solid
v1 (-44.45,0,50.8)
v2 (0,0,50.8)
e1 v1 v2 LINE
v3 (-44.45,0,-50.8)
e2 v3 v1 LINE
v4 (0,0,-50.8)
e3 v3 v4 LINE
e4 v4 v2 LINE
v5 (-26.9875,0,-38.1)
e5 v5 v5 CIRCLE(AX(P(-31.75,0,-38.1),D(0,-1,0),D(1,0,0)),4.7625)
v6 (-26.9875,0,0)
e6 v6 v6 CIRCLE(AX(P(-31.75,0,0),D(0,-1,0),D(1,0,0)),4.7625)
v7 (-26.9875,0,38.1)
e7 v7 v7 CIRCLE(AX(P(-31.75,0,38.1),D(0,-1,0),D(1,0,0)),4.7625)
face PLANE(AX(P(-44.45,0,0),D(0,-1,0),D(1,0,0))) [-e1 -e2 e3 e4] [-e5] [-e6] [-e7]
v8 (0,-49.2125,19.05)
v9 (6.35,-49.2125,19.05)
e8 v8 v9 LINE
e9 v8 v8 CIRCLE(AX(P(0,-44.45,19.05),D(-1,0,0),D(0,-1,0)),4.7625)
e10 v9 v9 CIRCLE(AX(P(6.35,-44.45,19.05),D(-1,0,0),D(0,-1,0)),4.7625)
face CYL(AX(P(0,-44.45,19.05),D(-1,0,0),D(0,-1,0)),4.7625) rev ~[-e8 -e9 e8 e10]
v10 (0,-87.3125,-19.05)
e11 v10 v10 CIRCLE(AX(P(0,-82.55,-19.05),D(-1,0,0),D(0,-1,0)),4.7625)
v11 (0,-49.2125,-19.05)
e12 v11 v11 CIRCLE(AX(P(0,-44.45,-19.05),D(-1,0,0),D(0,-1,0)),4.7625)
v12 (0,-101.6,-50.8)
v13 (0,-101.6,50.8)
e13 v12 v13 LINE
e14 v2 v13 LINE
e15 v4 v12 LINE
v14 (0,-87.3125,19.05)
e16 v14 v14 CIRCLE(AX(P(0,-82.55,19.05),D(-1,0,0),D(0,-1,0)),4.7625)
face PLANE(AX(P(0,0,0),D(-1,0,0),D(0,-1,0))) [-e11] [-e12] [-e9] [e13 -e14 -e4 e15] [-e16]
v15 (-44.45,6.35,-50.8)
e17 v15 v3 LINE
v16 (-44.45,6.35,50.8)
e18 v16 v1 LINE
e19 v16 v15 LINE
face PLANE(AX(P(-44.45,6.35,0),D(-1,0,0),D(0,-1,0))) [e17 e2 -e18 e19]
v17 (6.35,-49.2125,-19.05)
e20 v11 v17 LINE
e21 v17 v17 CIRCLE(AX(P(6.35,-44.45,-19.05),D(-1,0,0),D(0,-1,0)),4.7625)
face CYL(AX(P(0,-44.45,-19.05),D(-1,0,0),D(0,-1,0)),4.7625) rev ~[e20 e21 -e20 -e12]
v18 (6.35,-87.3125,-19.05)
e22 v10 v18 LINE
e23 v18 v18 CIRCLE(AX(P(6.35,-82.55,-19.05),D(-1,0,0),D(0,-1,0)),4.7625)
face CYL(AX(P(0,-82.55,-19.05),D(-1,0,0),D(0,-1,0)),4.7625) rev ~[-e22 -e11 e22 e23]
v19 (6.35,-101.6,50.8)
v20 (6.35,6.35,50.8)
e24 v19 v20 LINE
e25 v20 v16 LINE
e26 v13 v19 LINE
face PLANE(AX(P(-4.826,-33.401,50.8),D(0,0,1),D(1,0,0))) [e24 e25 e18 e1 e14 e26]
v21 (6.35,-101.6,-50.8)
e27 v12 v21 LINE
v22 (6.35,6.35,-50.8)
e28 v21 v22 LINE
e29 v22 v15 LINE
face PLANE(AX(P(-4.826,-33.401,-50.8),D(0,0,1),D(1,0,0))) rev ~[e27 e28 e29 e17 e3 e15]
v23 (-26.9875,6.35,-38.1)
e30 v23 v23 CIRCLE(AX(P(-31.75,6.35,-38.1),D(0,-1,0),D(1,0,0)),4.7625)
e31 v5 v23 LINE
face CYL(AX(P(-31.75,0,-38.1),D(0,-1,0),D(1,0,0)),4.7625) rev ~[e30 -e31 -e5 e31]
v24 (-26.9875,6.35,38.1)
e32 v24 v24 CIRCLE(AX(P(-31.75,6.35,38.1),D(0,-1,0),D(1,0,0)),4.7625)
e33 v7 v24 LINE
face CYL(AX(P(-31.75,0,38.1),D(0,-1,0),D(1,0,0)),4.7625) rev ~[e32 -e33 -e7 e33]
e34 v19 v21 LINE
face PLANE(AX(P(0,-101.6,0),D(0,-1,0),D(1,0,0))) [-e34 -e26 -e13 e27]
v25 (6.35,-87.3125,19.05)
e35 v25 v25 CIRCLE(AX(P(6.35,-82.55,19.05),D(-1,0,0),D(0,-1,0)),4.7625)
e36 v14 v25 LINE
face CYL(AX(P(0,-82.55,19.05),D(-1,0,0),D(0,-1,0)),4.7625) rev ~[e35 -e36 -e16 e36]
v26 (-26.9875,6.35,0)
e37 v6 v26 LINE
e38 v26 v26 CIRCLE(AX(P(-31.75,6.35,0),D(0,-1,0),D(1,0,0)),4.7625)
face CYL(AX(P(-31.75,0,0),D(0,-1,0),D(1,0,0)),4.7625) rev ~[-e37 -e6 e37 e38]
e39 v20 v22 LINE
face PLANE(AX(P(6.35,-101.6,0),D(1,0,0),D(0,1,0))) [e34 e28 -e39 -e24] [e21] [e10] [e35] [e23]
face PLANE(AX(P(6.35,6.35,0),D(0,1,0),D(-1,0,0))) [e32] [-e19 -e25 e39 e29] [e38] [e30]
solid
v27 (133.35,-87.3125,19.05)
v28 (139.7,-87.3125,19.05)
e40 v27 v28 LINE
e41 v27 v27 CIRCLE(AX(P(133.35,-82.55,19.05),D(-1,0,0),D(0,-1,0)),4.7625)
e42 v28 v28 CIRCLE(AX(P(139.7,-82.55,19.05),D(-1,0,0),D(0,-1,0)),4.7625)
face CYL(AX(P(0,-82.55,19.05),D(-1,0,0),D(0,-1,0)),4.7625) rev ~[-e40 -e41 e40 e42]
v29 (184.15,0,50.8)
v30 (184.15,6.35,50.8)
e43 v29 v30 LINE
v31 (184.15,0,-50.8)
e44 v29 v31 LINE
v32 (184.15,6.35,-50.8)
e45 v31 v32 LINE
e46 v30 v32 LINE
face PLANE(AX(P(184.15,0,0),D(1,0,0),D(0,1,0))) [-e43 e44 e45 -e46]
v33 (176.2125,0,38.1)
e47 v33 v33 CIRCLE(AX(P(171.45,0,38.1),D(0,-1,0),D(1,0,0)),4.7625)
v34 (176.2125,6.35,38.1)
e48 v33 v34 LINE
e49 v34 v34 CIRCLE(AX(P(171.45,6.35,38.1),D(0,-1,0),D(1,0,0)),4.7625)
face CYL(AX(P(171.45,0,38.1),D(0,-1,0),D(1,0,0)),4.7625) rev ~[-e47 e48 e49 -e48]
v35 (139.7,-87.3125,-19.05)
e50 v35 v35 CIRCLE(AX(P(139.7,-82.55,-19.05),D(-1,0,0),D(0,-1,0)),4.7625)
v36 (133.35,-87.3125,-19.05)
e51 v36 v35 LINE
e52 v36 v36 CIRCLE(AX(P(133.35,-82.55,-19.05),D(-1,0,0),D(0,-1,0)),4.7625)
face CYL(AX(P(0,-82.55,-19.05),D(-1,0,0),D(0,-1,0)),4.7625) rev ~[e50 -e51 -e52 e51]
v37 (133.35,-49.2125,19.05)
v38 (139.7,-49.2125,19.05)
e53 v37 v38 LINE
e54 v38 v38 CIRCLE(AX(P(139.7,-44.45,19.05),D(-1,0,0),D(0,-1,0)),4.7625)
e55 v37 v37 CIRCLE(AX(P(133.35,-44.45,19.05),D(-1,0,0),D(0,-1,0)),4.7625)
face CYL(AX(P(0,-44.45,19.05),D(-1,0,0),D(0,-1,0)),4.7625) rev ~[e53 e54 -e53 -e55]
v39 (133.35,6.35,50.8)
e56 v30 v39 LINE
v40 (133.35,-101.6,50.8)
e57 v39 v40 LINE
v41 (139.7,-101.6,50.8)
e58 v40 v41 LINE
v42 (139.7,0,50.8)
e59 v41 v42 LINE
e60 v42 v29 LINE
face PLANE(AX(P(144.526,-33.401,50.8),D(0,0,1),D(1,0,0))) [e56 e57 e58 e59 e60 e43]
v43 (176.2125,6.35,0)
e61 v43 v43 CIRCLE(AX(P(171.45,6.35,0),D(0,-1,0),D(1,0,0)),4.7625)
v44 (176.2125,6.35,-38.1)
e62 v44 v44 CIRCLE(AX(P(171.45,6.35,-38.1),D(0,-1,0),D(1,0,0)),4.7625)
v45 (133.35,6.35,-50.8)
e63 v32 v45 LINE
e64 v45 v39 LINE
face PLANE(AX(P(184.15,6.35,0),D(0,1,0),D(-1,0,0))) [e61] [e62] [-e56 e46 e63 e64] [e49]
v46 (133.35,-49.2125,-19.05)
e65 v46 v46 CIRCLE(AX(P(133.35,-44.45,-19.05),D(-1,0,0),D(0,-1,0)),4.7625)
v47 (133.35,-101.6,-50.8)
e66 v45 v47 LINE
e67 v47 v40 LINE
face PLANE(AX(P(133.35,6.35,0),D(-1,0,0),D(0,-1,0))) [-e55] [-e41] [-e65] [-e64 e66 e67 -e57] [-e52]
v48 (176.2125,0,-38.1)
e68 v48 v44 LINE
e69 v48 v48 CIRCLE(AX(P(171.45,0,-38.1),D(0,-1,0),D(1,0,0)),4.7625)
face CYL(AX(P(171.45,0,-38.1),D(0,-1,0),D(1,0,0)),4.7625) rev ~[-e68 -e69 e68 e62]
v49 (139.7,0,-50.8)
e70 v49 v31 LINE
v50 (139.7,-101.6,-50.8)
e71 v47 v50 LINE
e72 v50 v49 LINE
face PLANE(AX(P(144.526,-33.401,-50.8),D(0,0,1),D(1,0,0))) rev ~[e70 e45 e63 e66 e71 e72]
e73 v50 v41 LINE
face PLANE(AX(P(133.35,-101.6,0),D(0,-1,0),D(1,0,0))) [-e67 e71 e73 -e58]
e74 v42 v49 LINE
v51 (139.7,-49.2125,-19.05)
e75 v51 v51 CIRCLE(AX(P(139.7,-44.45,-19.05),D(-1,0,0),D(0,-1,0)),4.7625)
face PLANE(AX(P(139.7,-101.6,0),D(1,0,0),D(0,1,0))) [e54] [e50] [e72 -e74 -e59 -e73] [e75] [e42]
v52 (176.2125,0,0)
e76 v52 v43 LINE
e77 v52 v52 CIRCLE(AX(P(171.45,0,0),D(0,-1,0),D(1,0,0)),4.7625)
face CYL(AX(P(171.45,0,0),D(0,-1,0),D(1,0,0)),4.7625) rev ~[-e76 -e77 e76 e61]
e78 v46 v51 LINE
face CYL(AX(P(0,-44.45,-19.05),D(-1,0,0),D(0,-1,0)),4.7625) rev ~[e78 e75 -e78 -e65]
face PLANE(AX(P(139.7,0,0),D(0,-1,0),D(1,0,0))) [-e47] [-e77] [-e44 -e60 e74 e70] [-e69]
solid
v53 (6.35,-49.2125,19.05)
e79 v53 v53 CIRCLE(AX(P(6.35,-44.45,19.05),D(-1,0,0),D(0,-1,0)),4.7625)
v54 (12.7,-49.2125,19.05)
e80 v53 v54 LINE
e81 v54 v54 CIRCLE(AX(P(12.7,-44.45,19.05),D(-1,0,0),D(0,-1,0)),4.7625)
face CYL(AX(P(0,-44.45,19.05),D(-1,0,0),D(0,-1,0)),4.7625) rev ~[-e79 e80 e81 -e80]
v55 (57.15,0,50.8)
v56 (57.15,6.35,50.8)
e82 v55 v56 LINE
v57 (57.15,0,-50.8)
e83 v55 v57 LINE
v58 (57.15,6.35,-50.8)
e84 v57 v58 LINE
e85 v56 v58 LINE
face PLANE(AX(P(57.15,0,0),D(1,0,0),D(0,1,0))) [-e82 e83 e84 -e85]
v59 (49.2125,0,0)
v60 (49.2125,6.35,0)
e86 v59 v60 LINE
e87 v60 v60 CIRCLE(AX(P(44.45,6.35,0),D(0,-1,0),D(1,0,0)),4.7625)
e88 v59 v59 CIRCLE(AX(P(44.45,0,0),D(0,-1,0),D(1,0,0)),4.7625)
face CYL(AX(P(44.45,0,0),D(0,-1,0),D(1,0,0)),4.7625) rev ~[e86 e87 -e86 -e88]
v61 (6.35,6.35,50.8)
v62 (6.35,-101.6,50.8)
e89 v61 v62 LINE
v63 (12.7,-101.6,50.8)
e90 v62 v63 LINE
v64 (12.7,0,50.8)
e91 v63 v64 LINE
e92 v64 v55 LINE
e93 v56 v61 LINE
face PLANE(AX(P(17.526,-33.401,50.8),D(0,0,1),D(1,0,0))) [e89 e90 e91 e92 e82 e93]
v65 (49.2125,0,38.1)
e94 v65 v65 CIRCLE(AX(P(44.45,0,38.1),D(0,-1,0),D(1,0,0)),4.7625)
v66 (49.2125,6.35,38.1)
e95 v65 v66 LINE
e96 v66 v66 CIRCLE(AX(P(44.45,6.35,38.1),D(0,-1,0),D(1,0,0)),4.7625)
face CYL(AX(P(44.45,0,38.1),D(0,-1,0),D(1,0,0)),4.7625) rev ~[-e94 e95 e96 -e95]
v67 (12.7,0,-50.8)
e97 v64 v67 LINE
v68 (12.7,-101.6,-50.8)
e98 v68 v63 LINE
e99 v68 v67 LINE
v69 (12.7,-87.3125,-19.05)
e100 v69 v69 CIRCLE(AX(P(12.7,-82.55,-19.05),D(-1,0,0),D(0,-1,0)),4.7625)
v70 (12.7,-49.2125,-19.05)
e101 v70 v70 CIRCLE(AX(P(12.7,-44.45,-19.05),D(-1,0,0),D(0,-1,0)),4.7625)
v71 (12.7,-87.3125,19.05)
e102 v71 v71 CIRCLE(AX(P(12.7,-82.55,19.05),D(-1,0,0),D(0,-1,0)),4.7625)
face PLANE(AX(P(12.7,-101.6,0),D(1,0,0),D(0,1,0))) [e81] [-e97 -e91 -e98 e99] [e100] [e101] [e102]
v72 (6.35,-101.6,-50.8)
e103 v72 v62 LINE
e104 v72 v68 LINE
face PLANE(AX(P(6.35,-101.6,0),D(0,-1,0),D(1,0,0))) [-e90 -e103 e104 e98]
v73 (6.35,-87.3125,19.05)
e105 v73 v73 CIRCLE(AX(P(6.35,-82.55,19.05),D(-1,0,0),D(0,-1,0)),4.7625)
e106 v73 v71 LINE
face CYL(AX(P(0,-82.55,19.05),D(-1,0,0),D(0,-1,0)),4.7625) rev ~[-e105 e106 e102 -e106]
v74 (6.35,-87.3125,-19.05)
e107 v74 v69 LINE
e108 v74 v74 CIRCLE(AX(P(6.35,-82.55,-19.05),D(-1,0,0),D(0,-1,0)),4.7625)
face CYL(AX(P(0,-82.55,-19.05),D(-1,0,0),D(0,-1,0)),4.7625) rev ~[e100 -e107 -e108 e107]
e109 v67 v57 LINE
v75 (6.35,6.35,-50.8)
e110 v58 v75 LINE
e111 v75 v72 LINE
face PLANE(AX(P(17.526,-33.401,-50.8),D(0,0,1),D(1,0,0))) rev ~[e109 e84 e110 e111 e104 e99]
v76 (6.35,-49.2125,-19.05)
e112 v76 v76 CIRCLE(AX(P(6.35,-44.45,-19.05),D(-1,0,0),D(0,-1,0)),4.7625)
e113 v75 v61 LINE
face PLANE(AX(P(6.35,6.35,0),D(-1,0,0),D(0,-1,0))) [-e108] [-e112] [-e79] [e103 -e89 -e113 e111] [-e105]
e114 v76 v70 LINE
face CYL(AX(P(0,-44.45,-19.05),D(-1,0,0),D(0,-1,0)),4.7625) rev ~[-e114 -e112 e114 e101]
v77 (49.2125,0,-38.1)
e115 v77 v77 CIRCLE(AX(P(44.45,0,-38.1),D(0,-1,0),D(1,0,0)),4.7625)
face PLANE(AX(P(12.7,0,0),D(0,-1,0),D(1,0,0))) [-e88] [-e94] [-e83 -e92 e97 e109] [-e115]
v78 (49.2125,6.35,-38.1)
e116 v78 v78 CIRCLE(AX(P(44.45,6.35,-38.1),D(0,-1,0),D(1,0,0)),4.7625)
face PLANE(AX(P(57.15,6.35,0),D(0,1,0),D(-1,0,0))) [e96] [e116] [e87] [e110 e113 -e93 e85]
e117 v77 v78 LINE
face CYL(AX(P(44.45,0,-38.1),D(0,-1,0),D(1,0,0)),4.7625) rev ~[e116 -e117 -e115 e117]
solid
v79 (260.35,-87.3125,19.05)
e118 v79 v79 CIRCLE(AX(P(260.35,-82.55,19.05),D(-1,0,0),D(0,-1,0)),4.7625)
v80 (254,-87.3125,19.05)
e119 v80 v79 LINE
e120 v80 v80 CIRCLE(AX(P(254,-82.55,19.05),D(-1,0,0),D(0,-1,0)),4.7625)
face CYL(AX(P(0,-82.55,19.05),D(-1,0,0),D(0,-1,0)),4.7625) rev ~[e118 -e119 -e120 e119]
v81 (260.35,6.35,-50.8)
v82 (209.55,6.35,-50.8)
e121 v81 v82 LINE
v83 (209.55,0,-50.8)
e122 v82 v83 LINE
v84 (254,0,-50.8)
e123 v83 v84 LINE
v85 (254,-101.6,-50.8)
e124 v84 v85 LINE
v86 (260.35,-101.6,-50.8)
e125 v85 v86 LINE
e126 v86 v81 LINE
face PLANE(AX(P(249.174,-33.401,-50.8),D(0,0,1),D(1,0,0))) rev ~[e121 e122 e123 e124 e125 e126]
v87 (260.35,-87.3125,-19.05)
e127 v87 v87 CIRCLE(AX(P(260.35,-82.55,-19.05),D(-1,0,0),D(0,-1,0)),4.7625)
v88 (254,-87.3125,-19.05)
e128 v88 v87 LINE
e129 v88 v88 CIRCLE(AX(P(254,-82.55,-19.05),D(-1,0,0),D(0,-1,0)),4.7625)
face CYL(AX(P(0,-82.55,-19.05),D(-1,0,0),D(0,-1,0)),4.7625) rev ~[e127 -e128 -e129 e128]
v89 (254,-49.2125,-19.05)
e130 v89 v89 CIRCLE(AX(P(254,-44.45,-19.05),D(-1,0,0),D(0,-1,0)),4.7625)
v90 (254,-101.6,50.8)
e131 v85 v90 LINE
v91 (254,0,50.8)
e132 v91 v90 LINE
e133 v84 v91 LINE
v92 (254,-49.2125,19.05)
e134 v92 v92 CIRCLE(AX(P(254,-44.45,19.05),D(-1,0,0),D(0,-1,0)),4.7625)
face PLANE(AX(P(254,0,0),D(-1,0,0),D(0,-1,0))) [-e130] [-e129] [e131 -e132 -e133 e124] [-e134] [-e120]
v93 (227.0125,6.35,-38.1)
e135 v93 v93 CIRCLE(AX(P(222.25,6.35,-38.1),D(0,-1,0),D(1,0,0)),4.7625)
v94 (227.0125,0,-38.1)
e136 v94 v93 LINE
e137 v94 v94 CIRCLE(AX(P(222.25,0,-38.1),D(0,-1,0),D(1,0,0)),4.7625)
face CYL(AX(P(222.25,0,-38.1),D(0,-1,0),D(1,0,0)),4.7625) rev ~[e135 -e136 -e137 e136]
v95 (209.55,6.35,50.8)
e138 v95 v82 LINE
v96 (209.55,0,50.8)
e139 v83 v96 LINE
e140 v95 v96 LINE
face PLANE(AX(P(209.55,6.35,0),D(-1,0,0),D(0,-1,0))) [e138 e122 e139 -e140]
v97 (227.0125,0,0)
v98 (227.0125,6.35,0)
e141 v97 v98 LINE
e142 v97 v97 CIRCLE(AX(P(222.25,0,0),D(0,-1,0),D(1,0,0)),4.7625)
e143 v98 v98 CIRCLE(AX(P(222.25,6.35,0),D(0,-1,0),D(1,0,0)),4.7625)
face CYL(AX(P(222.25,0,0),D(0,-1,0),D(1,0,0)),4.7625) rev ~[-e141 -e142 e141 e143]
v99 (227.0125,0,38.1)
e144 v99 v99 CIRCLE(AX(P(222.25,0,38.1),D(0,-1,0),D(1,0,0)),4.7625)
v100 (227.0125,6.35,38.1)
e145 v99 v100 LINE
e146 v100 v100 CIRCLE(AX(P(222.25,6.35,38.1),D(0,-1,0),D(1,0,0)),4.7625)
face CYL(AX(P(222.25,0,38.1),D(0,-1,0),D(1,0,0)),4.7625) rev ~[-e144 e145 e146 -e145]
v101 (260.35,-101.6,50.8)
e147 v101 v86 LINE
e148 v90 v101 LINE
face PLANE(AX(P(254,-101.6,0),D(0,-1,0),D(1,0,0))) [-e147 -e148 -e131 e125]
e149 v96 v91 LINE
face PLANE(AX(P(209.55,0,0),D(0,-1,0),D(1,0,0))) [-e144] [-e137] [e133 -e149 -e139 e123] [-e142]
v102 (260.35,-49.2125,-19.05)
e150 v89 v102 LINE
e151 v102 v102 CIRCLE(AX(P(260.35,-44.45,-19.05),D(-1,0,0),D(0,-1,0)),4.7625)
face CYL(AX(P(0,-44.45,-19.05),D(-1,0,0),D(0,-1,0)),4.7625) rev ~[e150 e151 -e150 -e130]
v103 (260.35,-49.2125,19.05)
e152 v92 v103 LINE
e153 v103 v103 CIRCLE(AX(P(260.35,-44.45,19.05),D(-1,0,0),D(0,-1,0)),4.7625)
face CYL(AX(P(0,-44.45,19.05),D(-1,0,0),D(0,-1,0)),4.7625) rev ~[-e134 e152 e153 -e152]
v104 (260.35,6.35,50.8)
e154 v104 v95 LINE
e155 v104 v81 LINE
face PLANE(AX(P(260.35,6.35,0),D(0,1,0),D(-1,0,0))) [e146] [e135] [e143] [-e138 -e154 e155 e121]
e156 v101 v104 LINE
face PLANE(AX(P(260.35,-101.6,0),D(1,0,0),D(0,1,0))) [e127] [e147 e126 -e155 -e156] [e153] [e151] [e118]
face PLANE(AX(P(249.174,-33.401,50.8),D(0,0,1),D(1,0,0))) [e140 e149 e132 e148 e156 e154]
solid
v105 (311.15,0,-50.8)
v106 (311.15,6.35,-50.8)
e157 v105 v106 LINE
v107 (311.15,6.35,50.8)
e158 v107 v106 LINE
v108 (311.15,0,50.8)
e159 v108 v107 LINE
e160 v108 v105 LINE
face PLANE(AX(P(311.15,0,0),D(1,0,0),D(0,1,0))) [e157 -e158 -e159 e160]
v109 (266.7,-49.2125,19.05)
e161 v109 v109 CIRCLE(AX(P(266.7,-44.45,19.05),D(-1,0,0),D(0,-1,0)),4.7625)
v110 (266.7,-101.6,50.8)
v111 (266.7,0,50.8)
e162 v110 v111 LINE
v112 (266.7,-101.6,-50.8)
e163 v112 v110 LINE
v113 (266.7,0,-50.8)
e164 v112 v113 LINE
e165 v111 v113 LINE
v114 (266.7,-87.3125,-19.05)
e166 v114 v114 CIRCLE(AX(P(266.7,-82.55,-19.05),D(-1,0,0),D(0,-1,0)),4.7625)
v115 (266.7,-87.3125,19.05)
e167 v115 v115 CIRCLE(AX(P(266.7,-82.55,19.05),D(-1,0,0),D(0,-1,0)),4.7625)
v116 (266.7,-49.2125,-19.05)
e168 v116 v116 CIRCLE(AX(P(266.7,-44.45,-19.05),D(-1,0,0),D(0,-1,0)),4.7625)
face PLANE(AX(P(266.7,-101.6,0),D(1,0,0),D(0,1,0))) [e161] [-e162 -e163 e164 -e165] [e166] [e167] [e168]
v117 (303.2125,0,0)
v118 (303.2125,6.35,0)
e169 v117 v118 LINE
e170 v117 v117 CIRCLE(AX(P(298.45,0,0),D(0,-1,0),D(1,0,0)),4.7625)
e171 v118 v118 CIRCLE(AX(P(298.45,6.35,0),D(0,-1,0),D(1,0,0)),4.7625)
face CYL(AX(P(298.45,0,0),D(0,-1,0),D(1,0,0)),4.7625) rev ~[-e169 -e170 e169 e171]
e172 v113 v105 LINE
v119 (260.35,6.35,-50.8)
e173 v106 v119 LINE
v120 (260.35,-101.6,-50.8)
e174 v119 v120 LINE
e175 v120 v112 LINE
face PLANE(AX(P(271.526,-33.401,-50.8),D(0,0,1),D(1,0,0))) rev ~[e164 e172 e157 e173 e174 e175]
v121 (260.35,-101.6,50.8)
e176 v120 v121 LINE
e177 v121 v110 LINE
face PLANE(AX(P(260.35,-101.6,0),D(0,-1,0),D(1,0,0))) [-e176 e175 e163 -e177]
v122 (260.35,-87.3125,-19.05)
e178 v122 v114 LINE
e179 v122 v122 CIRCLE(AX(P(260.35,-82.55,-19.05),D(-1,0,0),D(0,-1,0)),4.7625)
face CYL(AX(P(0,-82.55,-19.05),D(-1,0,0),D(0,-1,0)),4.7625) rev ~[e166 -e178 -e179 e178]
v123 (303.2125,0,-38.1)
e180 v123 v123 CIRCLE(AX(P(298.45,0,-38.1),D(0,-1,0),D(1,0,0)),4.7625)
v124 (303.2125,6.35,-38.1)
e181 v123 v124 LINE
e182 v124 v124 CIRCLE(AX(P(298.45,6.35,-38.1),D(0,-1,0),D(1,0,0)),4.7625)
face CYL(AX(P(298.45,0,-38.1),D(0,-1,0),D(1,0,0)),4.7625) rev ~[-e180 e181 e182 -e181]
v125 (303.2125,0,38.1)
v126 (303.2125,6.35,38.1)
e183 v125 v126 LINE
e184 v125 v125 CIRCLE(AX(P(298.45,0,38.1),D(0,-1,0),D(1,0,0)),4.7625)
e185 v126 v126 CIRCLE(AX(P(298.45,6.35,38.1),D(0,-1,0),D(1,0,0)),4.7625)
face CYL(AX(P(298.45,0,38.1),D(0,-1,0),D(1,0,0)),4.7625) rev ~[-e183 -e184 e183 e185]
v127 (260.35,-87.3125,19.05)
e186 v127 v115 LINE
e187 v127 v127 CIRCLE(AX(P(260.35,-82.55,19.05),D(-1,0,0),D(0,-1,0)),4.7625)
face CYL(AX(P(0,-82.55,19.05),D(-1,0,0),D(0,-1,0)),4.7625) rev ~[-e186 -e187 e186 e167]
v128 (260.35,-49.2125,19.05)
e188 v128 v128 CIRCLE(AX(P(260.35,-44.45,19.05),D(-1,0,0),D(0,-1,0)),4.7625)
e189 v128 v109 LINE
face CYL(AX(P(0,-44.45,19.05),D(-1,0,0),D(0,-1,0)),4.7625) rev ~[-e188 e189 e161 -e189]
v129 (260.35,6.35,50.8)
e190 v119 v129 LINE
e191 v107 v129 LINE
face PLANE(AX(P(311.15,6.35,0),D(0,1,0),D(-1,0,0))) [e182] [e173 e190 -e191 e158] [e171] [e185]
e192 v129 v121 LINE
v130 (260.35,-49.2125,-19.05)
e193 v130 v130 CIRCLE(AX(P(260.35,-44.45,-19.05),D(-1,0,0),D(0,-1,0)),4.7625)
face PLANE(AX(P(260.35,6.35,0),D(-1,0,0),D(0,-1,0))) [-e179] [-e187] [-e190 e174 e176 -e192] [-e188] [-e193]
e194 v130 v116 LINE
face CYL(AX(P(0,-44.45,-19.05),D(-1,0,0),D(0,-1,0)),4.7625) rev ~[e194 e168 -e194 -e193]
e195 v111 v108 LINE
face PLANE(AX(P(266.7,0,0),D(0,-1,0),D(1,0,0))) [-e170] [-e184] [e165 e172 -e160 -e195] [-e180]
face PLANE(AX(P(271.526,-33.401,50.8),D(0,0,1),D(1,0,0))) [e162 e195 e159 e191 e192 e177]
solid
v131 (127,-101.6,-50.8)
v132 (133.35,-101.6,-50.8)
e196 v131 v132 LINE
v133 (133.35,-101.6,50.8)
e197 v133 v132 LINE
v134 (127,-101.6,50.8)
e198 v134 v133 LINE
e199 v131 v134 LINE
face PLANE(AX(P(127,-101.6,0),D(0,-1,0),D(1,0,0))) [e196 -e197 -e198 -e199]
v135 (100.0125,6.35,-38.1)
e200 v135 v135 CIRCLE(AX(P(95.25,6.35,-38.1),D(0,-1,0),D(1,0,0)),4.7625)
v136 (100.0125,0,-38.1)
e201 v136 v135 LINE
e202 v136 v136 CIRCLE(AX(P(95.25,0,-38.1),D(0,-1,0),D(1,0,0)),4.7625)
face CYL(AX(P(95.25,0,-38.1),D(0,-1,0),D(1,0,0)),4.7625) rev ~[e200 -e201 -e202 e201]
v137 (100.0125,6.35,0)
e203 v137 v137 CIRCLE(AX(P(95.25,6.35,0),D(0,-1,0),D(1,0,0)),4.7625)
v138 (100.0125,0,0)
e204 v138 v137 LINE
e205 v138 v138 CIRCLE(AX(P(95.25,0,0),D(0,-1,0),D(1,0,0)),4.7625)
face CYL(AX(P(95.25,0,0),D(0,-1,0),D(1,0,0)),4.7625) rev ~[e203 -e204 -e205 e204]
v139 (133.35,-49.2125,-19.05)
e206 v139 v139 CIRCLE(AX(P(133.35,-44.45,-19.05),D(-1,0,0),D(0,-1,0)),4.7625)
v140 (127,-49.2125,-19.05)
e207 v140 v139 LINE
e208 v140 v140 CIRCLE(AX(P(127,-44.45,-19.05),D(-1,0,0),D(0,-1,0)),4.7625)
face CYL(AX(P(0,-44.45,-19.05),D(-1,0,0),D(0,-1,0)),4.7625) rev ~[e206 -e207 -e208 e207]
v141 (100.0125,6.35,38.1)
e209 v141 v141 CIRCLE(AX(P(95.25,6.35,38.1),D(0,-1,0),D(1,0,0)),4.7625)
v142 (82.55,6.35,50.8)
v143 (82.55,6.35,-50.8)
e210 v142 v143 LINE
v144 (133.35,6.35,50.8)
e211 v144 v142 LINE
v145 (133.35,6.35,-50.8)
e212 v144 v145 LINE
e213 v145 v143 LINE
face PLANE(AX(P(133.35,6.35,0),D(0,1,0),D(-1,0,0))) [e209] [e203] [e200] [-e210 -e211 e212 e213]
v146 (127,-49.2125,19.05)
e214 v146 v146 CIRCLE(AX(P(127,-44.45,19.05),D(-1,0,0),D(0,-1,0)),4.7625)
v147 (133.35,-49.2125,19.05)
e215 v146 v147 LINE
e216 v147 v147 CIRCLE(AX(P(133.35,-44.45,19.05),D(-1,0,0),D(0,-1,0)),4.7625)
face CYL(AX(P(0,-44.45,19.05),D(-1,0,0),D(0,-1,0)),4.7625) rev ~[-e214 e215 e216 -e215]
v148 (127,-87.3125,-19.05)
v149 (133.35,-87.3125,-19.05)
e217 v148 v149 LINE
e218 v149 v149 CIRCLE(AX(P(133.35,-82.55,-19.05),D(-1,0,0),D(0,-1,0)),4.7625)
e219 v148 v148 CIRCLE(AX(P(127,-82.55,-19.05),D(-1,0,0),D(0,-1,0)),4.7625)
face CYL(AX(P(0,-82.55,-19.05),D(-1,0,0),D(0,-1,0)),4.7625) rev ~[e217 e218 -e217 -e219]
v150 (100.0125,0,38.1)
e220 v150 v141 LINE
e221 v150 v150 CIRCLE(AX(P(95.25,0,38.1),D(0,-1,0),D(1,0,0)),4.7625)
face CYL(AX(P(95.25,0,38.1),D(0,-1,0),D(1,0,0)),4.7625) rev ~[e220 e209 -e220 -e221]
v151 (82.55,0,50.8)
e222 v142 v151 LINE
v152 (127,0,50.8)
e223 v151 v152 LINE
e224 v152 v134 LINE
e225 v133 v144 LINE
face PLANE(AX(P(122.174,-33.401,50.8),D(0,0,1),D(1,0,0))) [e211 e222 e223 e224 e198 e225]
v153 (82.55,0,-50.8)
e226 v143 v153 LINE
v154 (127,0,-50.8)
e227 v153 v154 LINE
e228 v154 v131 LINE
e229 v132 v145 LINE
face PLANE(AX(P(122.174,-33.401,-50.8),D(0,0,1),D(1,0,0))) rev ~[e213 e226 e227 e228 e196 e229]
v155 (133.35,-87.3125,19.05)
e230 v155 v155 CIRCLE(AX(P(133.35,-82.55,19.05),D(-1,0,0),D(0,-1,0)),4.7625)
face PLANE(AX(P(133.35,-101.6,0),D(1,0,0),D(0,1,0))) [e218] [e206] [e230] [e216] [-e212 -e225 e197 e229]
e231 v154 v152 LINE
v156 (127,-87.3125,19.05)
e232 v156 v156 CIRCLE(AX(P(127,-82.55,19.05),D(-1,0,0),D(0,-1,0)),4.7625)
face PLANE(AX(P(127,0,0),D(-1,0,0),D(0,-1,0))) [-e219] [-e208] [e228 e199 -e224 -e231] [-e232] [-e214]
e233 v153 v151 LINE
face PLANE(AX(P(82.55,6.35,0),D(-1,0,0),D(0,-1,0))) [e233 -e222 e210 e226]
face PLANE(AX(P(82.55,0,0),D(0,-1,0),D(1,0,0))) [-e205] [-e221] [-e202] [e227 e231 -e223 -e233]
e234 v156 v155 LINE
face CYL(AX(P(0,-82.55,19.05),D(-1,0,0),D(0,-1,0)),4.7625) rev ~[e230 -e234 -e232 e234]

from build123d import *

# Parameters (mm, degrees)
F2_DEPTH = 50.8
F3_R     = 4.7625
F4_DEPTH = 6.351
F5_R     = 4.7625
F6_DEPTH = 311.151


with BuildPart() as f2:
    # F0 (on Top) → F2 (new body, symmetric)
    with BuildSketch(Plane.XY):
        Polygon((-44.45, 6.35), (-44.45, 0), (0, 0), (0, -101.6), (6.35, -101.6), (6.35, 6.35), align=None)
    extrude(amount=F2_DEPTH, both=True)


with BuildPart() as f2b:
    # F0 (on Top) → F2, piece 2 (new body, symmetric)
    with BuildSketch(Plane.XY):
        Polygon((82.55, 6.35), (82.55, 0), (127, 0), (127, -101.6), (133.35, -101.6), (133.35, 6.35), align=None)
    extrude(amount=F2_DEPTH, both=True)


with BuildPart() as f2c:
    # F0 (on Top) → F2, piece 3 (new body, symmetric)
    with BuildSketch(Plane.XY):
        Polygon((209.55, 6.35), (209.55, 0), (254, 0), (254, -101.6), (260.35, -101.6), (260.35, 6.35), align=None)
    extrude(amount=F2_DEPTH, both=True)


with BuildPart() as f2d:
    # F1 (on Top) → F2, piece 4 (new body, symmetric)
    with BuildSketch(Plane.XY):
        Polygon((57.15, 6.35), (6.35, 6.35), (6.35, -101.6), (12.7, -101.6), (12.7, 0), (57.15, 0), align=None)
    extrude(amount=F2_DEPTH, both=True)


with BuildPart() as f2e:
    # F1 (on Top) → F2, piece 5 (new body, symmetric)
    with BuildSketch(Plane.XY):
        Polygon((184.15, 6.35), (133.35, 6.35), (133.35, -101.6), (139.7, -101.6), (139.7, 0), (184.15, 0), align=None)
    extrude(amount=F2_DEPTH, both=True)


with BuildPart() as f2f:
    # F1 (on Top) → F2, piece 6 (new body, symmetric)
    with BuildSketch(Plane.XY):
        Polygon((311.15, 6.35), (260.35, 6.35), (260.35, -101.6), (266.7, -101.6), (266.7, 0), (311.15, 0), align=None)
    extrude(amount=F2_DEPTH, both=True)


with BuildPart() as f4_tool:
    # F3 (on face) → F4 (new body, through all)
    with BuildSketch(Plane.XZ):
        with Locations((-31.75, 38.1)):
            Circle(F3_R)
        with Locations((-31.75, 0)):
            Circle(F3_R)
        with Locations((-31.75, -38.1)):
            Circle(F3_R)
        with Locations((44.45, 38.1)):
            Circle(F3_R)
        with Locations((44.45, 0)):
            Circle(F3_R)
        with Locations((44.45, -38.1)):
            Circle(F3_R)
        with Locations((95.25, -38.1)):
            Circle(F3_R)
        with Locations((171.45, 38.1)):
            Circle(F3_R)
        with Locations((171.45, 0)):
            Circle(F3_R)
        with Locations((171.45, -38.1)):
            Circle(F3_R)
        with Locations((95.25, 38.1)):
            Circle(F3_R)
        with Locations((95.25, 0)):
            Circle(F3_R)
        with Locations((222.25, -38.1)):
            Circle(F3_R)
        with Locations((298.45, 38.1)):
            Circle(F3_R)
        with Locations((298.45, 0)):
            Circle(F3_R)
        with Locations((298.45, -38.1)):
            Circle(F3_R)
        with Locations((222.25, 38.1)):
            Circle(F3_R)
        with Locations((222.25, 0)):
            Circle(F3_R)
    extrude(amount=-F4_DEPTH)


with BuildPart() as f2_1:
    add(f2.part)

    # F4: cut by f4_tool
    add(f4_tool.part, mode=Mode.SUBTRACT)


with BuildPart() as f2b_1:
    add(f2b.part)

    # F4: cut by f4_tool
    add(f4_tool.part, mode=Mode.SUBTRACT)


with BuildPart() as f2c_1:
    add(f2c.part)

    # F4: cut by f4_tool
    add(f4_tool.part, mode=Mode.SUBTRACT)


with BuildPart() as f2d_1:
    add(f2d.part)

    # F4: cut by f4_tool
    add(f4_tool.part, mode=Mode.SUBTRACT)


with BuildPart() as f2e_1:
    add(f2e.part)

    # F4: cut by f4_tool
    add(f4_tool.part, mode=Mode.SUBTRACT)


with BuildPart() as f2f_1:
    add(f2f.part)

    # F4: cut by f4_tool
    add(f4_tool.part, mode=Mode.SUBTRACT)


with BuildPart() as f6_tool:
    # F5 (on face) → F6 (new body, through all)
    with BuildSketch(Plane(origin=(0, 0, 0), x_dir=(0, -1, 0), z_dir=(-1, 0, 0))):
        with Locations((82.55, 19.05)):
            Circle(F5_R)
        with Locations((82.55, -19.05)):
            Circle(F5_R)
        with Locations((44.45, 19.05)):
            Circle(F5_R)
        with Locations((44.45, -19.05)):
            Circle(F5_R)
    extrude(amount=-F6_DEPTH)


with BuildPart() as f2_2:
    add(f2_1.part)

    # F6: cut by f6_tool
    add(f6_tool.part, mode=Mode.SUBTRACT)


with BuildPart() as f2b_2:
    add(f2b_1.part)

    # F6: cut by f6_tool
    add(f6_tool.part, mode=Mode.SUBTRACT)


with BuildPart() as f2c_2:
    add(f2c_1.part)

    # F6: cut by f6_tool
    add(f6_tool.part, mode=Mode.SUBTRACT)


with BuildPart() as f2d_2:
    add(f2d_1.part)

    # F6: cut by f6_tool
    add(f6_tool.part, mode=Mode.SUBTRACT)


with BuildPart() as f2e_2:
    add(f2e_1.part)

    # F6: cut by f6_tool
    add(f6_tool.part, mode=Mode.SUBTRACT)


with BuildPart() as f2f_2:
    add(f2f_1.part)

    # F6: cut by f6_tool
    add(f6_tool.part, mode=Mode.SUBTRACT)


solid = Compound([f2_2.part, f2b_2.part, f2c_2.part, f2d_2.part, f2e_2.part, f2f_2.part])
